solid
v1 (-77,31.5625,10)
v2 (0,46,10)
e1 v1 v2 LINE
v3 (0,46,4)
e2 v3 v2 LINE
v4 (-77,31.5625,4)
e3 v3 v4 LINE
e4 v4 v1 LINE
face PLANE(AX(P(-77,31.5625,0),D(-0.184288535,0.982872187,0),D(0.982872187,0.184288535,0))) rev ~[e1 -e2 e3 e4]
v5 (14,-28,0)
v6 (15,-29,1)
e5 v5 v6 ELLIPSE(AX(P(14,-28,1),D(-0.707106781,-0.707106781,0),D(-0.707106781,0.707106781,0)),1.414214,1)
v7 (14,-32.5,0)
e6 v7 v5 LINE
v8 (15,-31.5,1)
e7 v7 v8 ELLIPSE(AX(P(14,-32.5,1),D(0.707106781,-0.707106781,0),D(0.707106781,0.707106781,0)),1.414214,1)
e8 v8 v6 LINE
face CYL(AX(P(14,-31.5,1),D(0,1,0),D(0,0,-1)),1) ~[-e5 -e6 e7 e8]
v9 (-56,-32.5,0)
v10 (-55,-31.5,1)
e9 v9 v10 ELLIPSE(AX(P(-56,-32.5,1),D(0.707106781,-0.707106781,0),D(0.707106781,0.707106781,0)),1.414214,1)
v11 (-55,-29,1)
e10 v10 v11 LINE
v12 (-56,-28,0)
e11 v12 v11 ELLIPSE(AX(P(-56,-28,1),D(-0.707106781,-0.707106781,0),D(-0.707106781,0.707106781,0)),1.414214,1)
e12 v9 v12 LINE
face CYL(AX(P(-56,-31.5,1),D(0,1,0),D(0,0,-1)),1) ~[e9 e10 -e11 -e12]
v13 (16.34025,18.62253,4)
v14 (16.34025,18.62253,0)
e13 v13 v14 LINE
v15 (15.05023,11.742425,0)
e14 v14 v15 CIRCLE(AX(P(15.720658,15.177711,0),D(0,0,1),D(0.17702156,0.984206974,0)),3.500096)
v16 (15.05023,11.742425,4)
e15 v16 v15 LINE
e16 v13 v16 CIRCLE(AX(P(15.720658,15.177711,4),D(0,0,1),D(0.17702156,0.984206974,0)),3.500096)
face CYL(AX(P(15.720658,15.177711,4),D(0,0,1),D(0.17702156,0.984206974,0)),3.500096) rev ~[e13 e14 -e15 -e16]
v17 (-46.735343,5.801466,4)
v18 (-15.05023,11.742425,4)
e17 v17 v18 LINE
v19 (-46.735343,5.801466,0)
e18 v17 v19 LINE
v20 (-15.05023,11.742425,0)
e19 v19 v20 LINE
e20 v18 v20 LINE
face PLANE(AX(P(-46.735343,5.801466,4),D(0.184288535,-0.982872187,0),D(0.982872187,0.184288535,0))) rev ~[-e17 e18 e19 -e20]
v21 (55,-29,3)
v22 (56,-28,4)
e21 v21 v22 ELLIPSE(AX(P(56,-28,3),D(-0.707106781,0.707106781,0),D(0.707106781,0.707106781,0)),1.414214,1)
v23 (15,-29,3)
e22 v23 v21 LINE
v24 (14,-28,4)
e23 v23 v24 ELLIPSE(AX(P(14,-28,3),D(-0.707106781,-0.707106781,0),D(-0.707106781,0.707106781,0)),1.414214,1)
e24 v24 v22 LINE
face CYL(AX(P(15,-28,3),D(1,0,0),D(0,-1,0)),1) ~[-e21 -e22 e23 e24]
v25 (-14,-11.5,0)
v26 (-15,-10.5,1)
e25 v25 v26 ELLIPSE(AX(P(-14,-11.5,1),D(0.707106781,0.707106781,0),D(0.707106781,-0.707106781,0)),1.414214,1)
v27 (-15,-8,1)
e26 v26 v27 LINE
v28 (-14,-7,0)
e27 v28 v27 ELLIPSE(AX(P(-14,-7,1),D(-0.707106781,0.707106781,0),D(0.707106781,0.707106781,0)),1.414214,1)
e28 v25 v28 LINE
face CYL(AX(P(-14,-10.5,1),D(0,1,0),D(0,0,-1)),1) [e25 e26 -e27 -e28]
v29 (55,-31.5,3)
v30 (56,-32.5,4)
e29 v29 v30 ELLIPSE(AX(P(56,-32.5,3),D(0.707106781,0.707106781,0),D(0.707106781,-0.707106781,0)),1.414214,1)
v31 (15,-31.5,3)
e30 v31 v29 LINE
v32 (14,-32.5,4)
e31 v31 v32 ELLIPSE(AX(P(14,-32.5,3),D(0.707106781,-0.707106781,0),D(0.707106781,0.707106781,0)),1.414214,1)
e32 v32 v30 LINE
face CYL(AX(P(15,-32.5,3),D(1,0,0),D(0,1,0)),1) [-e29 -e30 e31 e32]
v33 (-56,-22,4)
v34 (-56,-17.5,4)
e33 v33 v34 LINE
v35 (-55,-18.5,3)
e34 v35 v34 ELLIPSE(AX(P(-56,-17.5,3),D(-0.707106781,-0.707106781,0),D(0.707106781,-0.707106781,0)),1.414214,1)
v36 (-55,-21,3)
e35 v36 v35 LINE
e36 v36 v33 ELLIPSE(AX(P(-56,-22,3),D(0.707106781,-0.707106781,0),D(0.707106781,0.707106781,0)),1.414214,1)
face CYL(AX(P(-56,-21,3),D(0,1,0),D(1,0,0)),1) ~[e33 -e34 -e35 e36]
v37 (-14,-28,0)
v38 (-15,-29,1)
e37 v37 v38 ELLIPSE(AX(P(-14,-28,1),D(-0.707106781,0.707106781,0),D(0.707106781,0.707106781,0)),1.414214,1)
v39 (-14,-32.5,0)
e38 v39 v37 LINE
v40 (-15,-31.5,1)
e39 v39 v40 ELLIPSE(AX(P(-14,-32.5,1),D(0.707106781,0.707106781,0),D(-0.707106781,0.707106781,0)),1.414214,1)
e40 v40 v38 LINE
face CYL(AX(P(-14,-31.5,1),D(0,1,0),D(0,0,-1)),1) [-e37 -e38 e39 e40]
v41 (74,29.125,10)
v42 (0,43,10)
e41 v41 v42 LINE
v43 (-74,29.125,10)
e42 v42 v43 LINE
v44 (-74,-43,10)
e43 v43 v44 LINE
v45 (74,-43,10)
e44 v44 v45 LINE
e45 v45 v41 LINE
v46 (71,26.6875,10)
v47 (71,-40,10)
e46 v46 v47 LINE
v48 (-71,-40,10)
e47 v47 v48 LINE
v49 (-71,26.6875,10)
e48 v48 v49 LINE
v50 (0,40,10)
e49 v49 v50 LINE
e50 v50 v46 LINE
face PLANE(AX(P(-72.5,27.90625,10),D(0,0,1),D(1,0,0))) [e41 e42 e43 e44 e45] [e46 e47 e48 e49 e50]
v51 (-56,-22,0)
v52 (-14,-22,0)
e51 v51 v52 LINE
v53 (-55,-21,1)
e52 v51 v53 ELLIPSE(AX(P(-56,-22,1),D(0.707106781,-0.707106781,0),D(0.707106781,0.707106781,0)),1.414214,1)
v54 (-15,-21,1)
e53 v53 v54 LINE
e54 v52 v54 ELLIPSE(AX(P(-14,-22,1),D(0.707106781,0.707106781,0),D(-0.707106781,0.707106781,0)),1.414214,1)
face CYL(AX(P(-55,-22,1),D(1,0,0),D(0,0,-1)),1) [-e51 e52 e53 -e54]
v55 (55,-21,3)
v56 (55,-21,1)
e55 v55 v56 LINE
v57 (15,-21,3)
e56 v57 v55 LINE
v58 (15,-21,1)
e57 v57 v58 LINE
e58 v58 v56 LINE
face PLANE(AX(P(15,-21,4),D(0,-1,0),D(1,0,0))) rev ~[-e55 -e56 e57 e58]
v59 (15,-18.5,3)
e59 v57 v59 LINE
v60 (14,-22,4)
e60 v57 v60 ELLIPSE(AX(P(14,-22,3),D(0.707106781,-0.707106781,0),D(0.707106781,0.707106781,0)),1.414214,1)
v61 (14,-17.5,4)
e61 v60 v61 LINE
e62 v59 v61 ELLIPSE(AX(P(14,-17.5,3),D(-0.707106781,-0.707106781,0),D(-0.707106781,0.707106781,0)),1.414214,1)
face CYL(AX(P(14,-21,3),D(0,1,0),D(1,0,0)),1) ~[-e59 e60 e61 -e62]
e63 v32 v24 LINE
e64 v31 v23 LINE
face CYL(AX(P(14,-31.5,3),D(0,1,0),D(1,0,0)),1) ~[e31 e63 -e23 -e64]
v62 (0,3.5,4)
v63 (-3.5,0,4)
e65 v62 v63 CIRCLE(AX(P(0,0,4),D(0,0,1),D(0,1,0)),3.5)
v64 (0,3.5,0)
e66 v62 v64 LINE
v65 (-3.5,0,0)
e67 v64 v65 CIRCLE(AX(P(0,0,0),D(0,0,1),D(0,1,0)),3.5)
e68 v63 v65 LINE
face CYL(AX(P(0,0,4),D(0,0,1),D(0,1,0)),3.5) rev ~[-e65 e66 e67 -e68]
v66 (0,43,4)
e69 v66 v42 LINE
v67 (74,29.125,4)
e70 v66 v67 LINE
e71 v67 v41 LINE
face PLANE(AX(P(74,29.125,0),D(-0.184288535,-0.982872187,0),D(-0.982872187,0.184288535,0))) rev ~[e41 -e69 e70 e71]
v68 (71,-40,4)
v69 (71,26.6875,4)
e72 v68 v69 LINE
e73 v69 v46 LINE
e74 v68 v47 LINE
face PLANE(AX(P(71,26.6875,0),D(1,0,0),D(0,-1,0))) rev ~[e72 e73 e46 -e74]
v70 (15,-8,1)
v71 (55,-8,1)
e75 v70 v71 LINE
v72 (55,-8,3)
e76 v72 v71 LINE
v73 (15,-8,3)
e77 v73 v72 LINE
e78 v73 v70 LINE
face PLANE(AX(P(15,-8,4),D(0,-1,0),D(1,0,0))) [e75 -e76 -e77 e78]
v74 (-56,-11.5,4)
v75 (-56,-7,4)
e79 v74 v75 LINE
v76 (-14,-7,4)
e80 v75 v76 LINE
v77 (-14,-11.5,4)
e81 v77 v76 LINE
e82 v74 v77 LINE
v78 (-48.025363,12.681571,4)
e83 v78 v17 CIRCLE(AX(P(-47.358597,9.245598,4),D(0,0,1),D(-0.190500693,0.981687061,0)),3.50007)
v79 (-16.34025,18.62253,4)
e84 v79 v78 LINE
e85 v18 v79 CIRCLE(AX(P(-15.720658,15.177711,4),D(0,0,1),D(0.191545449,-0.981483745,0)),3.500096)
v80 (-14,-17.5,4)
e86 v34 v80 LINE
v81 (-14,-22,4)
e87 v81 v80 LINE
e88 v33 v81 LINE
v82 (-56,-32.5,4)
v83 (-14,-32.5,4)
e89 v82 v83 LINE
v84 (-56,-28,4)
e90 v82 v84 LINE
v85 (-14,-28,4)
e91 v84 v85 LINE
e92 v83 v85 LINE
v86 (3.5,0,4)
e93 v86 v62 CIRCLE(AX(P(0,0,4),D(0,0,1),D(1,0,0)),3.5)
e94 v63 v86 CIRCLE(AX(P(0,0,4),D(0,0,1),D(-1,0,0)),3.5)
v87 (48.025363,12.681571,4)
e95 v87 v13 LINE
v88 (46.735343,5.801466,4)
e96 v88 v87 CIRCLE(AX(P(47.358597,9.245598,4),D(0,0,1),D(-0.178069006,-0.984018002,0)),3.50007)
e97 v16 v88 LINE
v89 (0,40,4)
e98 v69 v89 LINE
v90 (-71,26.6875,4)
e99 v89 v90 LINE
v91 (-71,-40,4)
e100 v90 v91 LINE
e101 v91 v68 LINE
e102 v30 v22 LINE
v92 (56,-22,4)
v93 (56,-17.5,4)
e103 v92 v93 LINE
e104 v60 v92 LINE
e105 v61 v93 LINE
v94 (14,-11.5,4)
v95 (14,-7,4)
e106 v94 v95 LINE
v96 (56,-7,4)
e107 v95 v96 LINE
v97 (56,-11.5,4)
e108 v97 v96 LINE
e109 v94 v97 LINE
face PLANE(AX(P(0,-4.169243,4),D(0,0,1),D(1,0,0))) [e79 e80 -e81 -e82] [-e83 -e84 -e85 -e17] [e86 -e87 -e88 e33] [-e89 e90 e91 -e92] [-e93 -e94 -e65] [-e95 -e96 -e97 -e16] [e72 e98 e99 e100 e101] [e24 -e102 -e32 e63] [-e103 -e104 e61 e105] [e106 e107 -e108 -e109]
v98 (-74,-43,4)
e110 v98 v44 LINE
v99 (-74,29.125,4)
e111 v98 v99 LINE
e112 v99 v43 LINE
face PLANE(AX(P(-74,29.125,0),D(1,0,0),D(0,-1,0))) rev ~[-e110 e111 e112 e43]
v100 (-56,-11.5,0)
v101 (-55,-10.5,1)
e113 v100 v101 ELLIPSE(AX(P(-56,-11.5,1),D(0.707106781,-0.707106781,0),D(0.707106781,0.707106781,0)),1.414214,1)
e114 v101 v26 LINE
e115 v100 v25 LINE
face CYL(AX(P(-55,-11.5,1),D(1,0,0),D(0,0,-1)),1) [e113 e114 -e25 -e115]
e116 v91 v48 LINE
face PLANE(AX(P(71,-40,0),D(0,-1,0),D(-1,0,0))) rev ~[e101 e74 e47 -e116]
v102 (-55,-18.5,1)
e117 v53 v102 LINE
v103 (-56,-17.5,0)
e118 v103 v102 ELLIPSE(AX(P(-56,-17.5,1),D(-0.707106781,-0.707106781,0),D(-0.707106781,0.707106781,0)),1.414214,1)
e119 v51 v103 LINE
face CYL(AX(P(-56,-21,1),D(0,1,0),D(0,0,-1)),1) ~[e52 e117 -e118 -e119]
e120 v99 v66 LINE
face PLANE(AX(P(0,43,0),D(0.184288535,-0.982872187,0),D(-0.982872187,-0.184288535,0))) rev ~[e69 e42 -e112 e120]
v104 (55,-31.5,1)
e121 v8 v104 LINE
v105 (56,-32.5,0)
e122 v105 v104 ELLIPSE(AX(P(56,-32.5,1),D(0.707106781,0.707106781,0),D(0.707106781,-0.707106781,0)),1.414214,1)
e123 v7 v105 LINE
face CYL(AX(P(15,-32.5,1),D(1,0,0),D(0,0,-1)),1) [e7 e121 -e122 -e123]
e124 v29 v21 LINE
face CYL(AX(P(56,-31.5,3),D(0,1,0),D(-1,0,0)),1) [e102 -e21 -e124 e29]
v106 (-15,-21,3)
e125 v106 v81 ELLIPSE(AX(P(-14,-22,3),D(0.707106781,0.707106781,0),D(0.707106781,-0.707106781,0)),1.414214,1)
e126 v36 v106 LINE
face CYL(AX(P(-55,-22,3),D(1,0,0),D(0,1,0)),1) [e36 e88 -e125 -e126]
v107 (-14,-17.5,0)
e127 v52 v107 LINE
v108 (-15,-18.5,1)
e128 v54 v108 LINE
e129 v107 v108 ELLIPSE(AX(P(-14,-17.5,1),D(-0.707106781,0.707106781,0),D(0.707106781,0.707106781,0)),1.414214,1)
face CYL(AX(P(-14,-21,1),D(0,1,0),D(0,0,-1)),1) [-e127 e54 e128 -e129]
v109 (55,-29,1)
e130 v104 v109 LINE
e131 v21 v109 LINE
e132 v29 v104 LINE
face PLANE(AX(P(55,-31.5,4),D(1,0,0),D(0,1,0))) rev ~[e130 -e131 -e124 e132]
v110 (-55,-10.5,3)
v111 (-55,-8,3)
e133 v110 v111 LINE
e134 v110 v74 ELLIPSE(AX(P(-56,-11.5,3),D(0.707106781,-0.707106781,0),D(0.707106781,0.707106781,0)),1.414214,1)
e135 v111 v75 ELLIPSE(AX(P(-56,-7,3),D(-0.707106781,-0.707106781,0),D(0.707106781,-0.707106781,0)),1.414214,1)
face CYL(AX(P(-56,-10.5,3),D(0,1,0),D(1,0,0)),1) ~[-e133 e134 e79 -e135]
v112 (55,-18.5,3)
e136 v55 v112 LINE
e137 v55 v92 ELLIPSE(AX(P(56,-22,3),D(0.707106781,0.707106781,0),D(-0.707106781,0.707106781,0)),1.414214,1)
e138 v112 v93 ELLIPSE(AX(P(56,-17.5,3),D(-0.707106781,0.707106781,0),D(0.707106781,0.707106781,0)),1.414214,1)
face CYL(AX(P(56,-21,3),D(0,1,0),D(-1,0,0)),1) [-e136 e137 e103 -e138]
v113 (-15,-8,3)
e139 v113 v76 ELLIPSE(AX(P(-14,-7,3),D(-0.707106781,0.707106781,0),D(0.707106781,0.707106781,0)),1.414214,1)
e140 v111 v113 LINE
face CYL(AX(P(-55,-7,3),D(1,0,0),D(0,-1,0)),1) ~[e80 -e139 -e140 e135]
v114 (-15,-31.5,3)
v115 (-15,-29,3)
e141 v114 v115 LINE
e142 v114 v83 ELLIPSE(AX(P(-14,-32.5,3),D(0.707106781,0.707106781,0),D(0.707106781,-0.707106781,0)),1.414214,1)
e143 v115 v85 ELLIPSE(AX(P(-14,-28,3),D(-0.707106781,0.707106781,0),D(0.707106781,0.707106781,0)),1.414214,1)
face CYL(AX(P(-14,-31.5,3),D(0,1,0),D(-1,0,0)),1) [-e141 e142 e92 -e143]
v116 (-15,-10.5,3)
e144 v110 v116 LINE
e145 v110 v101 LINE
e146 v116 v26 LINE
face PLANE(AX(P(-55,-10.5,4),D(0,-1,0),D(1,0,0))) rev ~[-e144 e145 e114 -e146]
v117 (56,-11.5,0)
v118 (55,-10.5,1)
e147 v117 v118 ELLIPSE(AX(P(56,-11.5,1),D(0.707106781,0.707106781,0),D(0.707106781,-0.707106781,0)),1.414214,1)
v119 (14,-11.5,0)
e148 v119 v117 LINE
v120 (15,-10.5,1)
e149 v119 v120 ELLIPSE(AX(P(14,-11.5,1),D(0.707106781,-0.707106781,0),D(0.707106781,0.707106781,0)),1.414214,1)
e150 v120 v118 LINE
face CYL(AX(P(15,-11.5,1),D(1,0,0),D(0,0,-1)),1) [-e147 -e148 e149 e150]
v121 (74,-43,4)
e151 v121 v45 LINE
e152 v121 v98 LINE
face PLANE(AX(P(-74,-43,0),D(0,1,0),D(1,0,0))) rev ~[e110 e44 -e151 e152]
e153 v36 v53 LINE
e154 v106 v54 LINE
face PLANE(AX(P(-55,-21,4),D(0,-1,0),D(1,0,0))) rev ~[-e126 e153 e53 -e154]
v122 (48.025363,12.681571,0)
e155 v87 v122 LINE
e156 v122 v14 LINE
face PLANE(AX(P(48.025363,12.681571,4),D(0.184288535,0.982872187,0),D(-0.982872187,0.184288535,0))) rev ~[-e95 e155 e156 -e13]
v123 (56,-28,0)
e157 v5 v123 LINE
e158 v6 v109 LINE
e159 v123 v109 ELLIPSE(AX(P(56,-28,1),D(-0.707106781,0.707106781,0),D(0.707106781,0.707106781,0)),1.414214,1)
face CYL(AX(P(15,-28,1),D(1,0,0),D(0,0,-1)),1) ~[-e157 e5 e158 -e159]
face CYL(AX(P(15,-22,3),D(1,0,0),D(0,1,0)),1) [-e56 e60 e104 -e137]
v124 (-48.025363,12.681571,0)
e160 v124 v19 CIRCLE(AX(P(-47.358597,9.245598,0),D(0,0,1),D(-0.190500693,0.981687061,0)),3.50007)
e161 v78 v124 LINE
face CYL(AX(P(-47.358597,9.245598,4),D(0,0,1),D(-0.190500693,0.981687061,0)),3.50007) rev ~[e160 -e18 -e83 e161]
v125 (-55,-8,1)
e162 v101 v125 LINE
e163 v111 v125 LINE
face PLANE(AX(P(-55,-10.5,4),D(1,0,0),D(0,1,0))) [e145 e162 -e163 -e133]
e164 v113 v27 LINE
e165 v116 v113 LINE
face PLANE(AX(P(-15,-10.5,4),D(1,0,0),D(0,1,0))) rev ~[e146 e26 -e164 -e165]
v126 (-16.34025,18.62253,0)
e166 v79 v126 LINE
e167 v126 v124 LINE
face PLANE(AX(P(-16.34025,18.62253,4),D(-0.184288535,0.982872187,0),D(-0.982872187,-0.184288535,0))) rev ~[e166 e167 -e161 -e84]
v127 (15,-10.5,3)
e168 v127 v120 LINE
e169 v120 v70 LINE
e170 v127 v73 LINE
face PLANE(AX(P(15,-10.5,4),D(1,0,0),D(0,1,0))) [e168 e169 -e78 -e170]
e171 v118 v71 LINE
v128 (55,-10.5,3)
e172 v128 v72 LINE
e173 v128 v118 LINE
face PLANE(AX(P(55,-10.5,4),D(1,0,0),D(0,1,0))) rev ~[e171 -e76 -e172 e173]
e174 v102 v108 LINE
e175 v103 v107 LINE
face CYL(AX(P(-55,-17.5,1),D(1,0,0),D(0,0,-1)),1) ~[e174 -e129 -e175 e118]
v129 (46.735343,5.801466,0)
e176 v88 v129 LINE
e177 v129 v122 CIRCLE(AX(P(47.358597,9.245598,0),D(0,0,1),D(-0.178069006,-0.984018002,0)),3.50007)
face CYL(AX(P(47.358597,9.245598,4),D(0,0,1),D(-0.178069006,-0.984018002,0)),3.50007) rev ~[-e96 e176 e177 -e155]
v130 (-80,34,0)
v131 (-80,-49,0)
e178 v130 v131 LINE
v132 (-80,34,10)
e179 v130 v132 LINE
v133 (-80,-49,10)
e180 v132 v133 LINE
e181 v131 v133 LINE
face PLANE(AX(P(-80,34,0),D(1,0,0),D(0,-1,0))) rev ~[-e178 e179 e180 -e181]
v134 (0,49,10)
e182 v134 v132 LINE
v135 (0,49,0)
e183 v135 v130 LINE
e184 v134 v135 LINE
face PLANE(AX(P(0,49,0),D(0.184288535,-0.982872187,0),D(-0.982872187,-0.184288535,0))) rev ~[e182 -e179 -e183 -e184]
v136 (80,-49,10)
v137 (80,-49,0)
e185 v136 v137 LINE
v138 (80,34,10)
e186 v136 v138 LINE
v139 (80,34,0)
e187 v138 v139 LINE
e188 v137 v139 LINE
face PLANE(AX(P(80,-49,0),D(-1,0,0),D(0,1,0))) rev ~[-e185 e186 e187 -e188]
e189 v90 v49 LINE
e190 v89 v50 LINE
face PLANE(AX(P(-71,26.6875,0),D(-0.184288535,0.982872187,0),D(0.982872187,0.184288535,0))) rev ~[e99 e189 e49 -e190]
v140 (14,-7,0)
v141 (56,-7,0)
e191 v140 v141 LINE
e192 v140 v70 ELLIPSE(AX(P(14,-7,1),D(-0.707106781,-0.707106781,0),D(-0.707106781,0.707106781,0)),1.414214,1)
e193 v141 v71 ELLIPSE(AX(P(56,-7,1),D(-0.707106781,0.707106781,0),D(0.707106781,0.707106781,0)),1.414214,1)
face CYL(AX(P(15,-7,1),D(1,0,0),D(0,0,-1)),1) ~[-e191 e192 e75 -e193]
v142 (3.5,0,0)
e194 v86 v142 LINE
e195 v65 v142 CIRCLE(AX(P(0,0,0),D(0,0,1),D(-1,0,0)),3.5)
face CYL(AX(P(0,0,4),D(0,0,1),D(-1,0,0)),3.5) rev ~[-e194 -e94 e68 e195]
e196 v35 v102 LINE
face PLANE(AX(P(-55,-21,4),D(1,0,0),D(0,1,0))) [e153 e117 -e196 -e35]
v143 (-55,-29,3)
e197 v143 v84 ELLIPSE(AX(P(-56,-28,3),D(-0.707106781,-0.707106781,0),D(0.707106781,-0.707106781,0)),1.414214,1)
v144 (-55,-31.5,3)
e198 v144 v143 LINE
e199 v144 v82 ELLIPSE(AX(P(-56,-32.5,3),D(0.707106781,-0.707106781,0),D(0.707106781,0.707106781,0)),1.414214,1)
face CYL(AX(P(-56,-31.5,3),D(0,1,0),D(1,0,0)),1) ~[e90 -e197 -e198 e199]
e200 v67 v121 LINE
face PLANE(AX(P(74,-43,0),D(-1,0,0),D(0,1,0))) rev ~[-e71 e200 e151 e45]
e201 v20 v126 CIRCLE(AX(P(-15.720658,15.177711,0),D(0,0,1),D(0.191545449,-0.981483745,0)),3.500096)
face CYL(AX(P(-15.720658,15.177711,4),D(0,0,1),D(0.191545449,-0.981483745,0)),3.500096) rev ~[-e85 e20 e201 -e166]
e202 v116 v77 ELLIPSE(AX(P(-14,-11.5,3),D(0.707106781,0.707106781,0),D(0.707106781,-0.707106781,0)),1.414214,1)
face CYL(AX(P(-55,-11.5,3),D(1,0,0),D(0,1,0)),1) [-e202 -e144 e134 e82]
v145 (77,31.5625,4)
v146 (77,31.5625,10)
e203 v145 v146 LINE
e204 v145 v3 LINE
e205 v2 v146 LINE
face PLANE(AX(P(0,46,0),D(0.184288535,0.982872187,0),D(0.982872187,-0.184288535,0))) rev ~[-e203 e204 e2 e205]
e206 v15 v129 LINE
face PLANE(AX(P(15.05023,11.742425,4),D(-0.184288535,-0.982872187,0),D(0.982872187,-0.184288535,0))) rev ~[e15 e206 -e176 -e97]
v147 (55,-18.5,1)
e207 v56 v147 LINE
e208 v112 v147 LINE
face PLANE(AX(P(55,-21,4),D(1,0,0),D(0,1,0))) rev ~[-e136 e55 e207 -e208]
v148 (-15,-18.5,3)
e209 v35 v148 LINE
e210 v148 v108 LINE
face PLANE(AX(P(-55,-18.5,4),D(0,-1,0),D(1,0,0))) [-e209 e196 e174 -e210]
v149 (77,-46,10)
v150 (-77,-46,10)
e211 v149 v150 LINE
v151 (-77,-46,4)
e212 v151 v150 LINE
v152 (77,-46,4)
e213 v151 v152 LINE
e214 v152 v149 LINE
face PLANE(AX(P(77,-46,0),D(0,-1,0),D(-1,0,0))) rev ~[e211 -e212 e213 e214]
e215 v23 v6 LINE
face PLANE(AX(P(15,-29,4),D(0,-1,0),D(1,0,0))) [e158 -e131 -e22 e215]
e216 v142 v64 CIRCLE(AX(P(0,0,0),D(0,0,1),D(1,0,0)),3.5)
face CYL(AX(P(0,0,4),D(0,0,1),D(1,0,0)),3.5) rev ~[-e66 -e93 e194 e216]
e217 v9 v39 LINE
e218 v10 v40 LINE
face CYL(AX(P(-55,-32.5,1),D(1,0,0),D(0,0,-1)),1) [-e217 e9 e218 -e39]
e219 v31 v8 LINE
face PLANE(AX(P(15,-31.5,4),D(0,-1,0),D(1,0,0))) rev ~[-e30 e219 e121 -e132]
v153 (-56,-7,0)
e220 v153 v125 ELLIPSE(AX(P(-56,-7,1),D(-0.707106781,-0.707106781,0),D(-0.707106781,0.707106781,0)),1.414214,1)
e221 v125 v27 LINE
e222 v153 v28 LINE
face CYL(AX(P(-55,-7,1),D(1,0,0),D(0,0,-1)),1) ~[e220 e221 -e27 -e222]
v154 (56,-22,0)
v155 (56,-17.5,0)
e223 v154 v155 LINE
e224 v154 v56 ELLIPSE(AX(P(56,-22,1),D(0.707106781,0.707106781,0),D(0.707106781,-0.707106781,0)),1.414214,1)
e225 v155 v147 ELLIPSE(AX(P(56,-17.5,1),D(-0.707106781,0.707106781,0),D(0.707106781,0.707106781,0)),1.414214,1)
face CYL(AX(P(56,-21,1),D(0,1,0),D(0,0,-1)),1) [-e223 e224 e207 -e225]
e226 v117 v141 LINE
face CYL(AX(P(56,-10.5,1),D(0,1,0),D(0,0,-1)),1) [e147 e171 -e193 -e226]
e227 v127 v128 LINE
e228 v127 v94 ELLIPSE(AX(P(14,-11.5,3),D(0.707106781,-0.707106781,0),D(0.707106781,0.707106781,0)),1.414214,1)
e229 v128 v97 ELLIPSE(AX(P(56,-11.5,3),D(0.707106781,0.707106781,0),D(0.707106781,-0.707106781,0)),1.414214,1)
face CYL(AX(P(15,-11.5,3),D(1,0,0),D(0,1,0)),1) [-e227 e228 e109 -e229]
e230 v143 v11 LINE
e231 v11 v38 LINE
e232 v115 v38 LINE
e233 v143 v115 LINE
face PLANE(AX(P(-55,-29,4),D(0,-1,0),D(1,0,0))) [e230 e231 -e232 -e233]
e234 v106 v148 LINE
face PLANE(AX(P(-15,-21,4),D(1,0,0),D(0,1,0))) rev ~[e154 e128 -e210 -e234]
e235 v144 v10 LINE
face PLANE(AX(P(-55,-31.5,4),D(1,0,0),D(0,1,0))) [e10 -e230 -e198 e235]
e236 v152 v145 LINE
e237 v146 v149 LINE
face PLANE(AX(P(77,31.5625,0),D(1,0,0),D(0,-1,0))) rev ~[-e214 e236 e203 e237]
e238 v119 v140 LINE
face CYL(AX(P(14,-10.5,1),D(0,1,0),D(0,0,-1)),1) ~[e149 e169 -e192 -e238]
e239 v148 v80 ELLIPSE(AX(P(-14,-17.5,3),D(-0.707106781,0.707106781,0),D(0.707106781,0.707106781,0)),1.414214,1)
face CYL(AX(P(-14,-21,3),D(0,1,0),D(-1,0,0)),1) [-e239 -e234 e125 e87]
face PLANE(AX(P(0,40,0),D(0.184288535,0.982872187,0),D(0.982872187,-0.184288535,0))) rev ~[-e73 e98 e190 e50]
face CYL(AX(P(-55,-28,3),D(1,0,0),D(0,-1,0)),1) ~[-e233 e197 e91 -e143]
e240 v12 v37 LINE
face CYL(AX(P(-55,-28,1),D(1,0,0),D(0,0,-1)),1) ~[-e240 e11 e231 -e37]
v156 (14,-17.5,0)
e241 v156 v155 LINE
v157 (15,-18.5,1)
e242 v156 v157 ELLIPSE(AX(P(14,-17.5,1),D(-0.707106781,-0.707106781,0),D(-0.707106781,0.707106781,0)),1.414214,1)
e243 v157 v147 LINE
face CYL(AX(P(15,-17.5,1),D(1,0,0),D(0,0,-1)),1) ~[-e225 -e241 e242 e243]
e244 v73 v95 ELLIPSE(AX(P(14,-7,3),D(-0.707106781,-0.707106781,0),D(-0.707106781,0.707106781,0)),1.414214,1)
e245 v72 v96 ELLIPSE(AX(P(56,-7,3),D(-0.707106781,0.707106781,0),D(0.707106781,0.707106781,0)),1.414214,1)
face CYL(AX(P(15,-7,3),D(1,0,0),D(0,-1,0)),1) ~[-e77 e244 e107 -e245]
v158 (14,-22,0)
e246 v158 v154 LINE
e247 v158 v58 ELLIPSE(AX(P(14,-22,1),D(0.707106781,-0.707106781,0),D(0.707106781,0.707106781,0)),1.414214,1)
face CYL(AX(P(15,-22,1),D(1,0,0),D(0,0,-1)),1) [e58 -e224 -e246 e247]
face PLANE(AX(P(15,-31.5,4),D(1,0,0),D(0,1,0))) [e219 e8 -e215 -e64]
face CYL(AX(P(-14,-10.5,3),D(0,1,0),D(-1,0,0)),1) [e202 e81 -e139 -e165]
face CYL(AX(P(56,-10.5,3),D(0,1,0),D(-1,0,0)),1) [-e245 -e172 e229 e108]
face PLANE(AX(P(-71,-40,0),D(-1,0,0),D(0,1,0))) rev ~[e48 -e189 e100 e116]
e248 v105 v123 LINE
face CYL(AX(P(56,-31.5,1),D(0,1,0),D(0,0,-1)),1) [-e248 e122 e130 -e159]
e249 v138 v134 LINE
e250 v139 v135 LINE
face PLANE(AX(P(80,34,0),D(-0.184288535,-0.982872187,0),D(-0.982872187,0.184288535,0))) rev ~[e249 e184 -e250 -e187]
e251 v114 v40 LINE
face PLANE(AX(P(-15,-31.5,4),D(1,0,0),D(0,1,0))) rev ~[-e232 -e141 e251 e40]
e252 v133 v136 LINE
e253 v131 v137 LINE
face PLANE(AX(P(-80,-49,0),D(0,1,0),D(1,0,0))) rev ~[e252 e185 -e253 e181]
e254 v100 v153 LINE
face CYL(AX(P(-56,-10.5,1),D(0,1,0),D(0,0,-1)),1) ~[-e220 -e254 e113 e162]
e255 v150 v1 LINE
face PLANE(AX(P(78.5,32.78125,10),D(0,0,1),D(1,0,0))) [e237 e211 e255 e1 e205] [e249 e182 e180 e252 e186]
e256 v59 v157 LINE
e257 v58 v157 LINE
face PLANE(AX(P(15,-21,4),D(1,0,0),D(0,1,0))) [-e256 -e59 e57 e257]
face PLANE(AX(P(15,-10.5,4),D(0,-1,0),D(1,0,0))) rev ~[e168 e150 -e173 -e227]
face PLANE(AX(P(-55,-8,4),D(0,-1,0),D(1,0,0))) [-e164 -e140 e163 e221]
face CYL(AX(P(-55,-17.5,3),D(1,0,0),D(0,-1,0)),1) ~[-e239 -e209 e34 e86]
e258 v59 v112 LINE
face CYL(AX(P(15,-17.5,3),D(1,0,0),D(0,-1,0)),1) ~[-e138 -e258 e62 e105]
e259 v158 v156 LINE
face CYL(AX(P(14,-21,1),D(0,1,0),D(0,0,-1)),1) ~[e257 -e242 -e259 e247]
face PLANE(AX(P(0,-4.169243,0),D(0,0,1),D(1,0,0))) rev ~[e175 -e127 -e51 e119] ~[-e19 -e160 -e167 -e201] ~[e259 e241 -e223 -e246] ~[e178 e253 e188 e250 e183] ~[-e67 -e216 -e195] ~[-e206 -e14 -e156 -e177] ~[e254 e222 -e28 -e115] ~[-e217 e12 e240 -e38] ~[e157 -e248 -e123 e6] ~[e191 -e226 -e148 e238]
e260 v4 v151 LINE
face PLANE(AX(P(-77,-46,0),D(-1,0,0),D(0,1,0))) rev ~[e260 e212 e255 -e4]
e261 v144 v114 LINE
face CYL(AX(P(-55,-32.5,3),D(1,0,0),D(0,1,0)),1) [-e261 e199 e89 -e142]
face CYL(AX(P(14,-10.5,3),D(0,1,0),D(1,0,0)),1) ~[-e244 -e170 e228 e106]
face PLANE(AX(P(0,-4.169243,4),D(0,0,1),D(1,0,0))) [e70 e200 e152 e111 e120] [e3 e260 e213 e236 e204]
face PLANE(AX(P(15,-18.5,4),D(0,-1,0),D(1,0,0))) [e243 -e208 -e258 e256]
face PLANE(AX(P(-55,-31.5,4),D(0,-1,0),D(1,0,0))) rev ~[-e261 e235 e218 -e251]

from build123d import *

# Parameters (mm, degrees)
F1_DEPTH = 4
F2_DEPTH = 10
F4_DEPTH = 25
F5_DEPTH = 5
F6_W     = 40
F6_H     = 2.5
F7_DEPTH = 25
F8_R     = 1


with BuildPart() as f1:
    # F0 (on Top) → F1 (new body)
    with BuildSketch(Plane.XY):
        Polygon((71, -40), (71, 26.6875), (0, 40), (-71, 26.6875), (-71, -40), align=None)
        Polygon((77, -46), (77, 25.5625), (74, 26.125), (74, -43), (-74, -43), (-74, 26.125), (-77, 25.5625), (-77, -46), align=None)
        Polygon((0, 43), (71, 29.6875), (71, 32.6875), (0, 46), (-71, 32.6875), (-71, 29.6875), align=None)
        Polygon((-80, -49), (80, -49), (80, 25), (77, 25.5625), (77, -46), (-77, -46), (-77, 25.5625), (-80, 25), align=None)
        Polygon((74, -43), (74, 26.125), (71, 26.6875), (71, -40), (-71, -40), (-71, 26.6875), (-74, 26.125), (-74, -43), align=None)
        Polygon((-80, 31), (-80, 28), (-77, 28.5625), (-77, 31.5625), align=None)
        Polygon((-80, 34), (-80, 31), (-77, 31.5625), (-77, 34.5625), align=None)
        Polygon((-80, 28), (-80, 25), (-77, 25.5625), (-77, 28.5625), align=None)
        Polygon((-77, 34.5625), (-77, 31.5625), (-74, 32.125), (-74, 35.125), align=None)
        Polygon((-77, 31.5625), (-77, 28.5625), (-74, 29.125), (-74, 32.125), align=None)
        Polygon((-77, 28.5625), (-77, 25.5625), (-74, 26.125), (-74, 29.125), align=None)
        Polygon((-74, 32.125), (-74, 29.125), (-71, 29.6875), (-71, 32.6875), align=None)
        Polygon((-74, 29.125), (-74, 26.125), (-71, 26.6875), (-71, 29.6875), align=None)
        Polygon((-74, 35.125), (-74, 32.125), (-71, 32.6875), (-71, 35.6875), align=None)
        Polygon((0, 46), (71, 32.6875), (71, 35.6875), (0, 49), (-71, 35.6875), (-71, 32.6875), align=None)
        Polygon((0, 40), (71, 26.6875), (71, 29.6875), (0, 43), (-71, 29.6875), (-71, 26.6875), align=None)
        Polygon((71, 32.6875), (74, 32.125), (74, 35.125), (71, 35.6875), align=None)
        Polygon((74, 32.125), (77, 31.5625), (77, 34.5625), (74, 35.125), align=None)
        Polygon((77, 31.5625), (80, 31), (80, 34), (77, 34.5625), align=None)
        Polygon((77, 28.5625), (80, 28), (80, 31), (77, 31.5625), align=None)
        Polygon((77, 25.5625), (80, 25), (80, 28), (77, 28.5625), align=None)
        Polygon((74, 26.125), (77, 25.5625), (77, 28.5625), (74, 29.125), align=None)
        Polygon((71, 26.6875), (74, 26.125), (74, 29.125), (71, 29.6875), align=None)
        Polygon((71, 29.6875), (74, 29.125), (74, 32.125), (71, 32.6875), align=None)
        Polygon((74, 29.125), (77, 28.5625), (77, 31.5625), (74, 32.125), align=None)
    extrude(amount=F1_DEPTH)

    # F0 (on Top) → F2 (join)
    with BuildSketch(Plane.XY):
        Polygon((77, 31.5625), (80, 31), (80, 34), (77, 34.5625), align=None)
        Polygon((74, 32.125), (77, 31.5625), (77, 34.5625), (74, 35.125), align=None)
        Polygon((71, 32.6875), (74, 32.125), (74, 35.125), (71, 35.6875), align=None)
        Polygon((0, 46), (71, 32.6875), (71, 35.6875), (0, 49), (-71, 35.6875), (-71, 32.6875), align=None)
        Polygon((-74, 35.125), (-74, 32.125), (-71, 32.6875), (-71, 35.6875), align=None)
        Polygon((-77, 34.5625), (-77, 31.5625), (-74, 32.125), (-74, 35.125), align=None)
        Polygon((-80, 34), (-80, 31), (-77, 31.5625), (-77, 34.5625), align=None)
        Polygon((-80, 28), (-80, 25), (-77, 25.5625), (-77, 28.5625), align=None)
        Polygon((-74, 29.125), (-74, 26.125), (-71, 26.6875), (-71, 29.6875), align=None)
        Polygon((0, 40), (71, 26.6875), (71, 29.6875), (0, 43), (-71, 29.6875), (-71, 26.6875), align=None)
        Polygon((77, 25.5625), (80, 25), (80, 28), (77, 28.5625), align=None)
        Polygon((71, 26.6875), (74, 26.125), (74, 29.125), (71, 29.6875), align=None)
        Polygon((-80, -49), (80, -49), (80, 25), (77, 25.5625), (77, -46), (-77, -46), (-77, 25.5625), (-80, 25), align=None)
        Polygon((74, -43), (74, 26.125), (71, 26.6875), (71, -40), (-71, -40), (-71, 26.6875), (-74, 26.125), (-74, -43), align=None)
        Polygon((-80, 31), (-80, 28), (-77, 28.5625), (-77, 31.5625), align=None)
        Polygon((77, 28.5625), (80, 28), (80, 31), (77, 31.5625), align=None)
    extrude(amount=F2_DEPTH)

    # F3 (on face) → F4 (cut)
    with BuildSketch(Plane.XY.offset(4)):
        with BuildLine():
            Line((-3.5, 0), (0, 0))
            Line((0, 0), (0, 3.5))
            ThreePointArc((0, 3.5), (-2.4748737342, 2.4748737342), (-3.5, 0))
        make_face()
        with BuildLine():
            Line((0, 3.5), (0, 0))
            Line((0, 0), (-3.5, 0))
            ThreePointArc((-3.5, 0), (0, -3.5), (3.5, 0))
            ThreePointArc((3.5, 0), (2.4748737342, 2.4748737342), (0, 3.5))
        make_face()
    extrude(amount=-F4_DEPTH, mode=Mode.SUBTRACT)

    # F3 (on face) → F5 (cut)
    with BuildSketch(Plane.XY.offset(4)):
        with BuildLine():
            ThreePointArc((-48.0253626304, 12.6815713362), (-50.7987183194, 8.6005751391), (-46.7353428851, 5.8014660276))
            Line((-46.7353428851, 5.8014660276), (-48.0253626304, 12.6815713362))
        make_face()
        Polygon((-46.7353428851, 5.8014660276), (-15.0502303624, 11.7424246256), (-16.3402501078, 18.6225299342), (-48.0253626304, 12.6815713362), align=None)
        with BuildLine():
            Line((-16.3402501078, 18.6225299342), (-15.0502303624, 11.7424246256))
            ThreePointArc((-15.0502303624, 11.7424246256), (-12.2805111805, 15.8227389776), (-16.3402501078, 18.6225299342))
        make_face()
        with BuildLine():
            ThreePointArc((16.3402501078, 18.6225299342), (12.2805111805, 15.8227389776), (15.0502303624, 11.7424246256))
            Line((15.0502303624, 11.7424246256), (46.7353428851, 5.8014660276))
            ThreePointArc((46.7353428851, 5.8014660276), (50.7987183194, 8.6005751391), (48.0253626304, 12.6815713362))
            Line((48.0253626304, 12.6815713362), (16.3402501078, 18.6225299342))
        make_face()
    extrude(amount=-F5_DEPTH, mode=Mode.SUBTRACT)

    # F6 (on face) → F7 (cut)
    with BuildSketch(Plane.XY.offset(4)):
        with Locations((-35, -30.25)):
            Rectangle(F6_W, F6_H)
        with Locations((-35, -19.75)):
            Rectangle(F6_W, F6_H)
        with Locations((35, -19.75)):
            Rectangle(F6_W, F6_H)
        with Locations((35, -30.25)):
            Rectangle(F6_W, F6_H)
        with Locations((-35, -9.25)):
            Rectangle(F6_W, F6_H)
        with Locations((35, -9.25)):
            Rectangle(F6_W, F6_H)
    extrude(amount=-F7_DEPTH, mode=Mode.SUBTRACT)

    # F8
    f8_edges = [f1.edges().sort_by_distance(p)[0] for p in [
        (-35, -31.5, 4),
        (-35, -29, 4),
        (-35, -21, 4),
        (-35, -18.5, 4),
        (-35, -10.5, 4),
        (-35, -8, 4),
        (-55, -9.25, 4),
        (-55, -19.75, 4),
        (-55, -30.25, 4),
        (-15, -30.25, 4),
        (-15, -19.75, 4),
        (-15, -9.25, 4),
        (15, -9.25, 4),
        (15, -19.75, 4),
        (15, -30.25, 4),
        (35, -29, 4),
        (35, -31.5, 4),
        (35, -18.5, 4),
        (15, -9.25, 0),
        (15, -19.75, 0),
        (35, -31.5, 0),
        (15, -30.25, 0),
        (35, -29, 0),
        (35, -21, 0),
        (35, -18.5, 0),
        (35, -8, 0),
        (35, -10.5, 0),
        (55, -30.25, 0),
        (55, -19.75, 0),
        (55, -9.25, 0),
        (-15, -30.25, 0),
        (-15, -19.75, 0),
        (-55, -30.25, 0),
        (-55, -19.75, 0),
        (-55, -9.25, 0),
        (-35, -21, 0),
        (-35, -29, 0),
        (-35, -31.5, 0),
        (-35, -10.5, 0),
        (-35, -8, 0),
        (-35, -18.5, 0),
        (-15, -9.25, 0),
        (55, -30.25, 4),
        (55, -19.75, 4),
        (35, -21, 4),
        (35, -10.5, 4),
        (35, -8, 4),
        (55, -9.25, 4),
    ]]
    fillet(f8_edges, radius=F8_R)


solid = f1.part
